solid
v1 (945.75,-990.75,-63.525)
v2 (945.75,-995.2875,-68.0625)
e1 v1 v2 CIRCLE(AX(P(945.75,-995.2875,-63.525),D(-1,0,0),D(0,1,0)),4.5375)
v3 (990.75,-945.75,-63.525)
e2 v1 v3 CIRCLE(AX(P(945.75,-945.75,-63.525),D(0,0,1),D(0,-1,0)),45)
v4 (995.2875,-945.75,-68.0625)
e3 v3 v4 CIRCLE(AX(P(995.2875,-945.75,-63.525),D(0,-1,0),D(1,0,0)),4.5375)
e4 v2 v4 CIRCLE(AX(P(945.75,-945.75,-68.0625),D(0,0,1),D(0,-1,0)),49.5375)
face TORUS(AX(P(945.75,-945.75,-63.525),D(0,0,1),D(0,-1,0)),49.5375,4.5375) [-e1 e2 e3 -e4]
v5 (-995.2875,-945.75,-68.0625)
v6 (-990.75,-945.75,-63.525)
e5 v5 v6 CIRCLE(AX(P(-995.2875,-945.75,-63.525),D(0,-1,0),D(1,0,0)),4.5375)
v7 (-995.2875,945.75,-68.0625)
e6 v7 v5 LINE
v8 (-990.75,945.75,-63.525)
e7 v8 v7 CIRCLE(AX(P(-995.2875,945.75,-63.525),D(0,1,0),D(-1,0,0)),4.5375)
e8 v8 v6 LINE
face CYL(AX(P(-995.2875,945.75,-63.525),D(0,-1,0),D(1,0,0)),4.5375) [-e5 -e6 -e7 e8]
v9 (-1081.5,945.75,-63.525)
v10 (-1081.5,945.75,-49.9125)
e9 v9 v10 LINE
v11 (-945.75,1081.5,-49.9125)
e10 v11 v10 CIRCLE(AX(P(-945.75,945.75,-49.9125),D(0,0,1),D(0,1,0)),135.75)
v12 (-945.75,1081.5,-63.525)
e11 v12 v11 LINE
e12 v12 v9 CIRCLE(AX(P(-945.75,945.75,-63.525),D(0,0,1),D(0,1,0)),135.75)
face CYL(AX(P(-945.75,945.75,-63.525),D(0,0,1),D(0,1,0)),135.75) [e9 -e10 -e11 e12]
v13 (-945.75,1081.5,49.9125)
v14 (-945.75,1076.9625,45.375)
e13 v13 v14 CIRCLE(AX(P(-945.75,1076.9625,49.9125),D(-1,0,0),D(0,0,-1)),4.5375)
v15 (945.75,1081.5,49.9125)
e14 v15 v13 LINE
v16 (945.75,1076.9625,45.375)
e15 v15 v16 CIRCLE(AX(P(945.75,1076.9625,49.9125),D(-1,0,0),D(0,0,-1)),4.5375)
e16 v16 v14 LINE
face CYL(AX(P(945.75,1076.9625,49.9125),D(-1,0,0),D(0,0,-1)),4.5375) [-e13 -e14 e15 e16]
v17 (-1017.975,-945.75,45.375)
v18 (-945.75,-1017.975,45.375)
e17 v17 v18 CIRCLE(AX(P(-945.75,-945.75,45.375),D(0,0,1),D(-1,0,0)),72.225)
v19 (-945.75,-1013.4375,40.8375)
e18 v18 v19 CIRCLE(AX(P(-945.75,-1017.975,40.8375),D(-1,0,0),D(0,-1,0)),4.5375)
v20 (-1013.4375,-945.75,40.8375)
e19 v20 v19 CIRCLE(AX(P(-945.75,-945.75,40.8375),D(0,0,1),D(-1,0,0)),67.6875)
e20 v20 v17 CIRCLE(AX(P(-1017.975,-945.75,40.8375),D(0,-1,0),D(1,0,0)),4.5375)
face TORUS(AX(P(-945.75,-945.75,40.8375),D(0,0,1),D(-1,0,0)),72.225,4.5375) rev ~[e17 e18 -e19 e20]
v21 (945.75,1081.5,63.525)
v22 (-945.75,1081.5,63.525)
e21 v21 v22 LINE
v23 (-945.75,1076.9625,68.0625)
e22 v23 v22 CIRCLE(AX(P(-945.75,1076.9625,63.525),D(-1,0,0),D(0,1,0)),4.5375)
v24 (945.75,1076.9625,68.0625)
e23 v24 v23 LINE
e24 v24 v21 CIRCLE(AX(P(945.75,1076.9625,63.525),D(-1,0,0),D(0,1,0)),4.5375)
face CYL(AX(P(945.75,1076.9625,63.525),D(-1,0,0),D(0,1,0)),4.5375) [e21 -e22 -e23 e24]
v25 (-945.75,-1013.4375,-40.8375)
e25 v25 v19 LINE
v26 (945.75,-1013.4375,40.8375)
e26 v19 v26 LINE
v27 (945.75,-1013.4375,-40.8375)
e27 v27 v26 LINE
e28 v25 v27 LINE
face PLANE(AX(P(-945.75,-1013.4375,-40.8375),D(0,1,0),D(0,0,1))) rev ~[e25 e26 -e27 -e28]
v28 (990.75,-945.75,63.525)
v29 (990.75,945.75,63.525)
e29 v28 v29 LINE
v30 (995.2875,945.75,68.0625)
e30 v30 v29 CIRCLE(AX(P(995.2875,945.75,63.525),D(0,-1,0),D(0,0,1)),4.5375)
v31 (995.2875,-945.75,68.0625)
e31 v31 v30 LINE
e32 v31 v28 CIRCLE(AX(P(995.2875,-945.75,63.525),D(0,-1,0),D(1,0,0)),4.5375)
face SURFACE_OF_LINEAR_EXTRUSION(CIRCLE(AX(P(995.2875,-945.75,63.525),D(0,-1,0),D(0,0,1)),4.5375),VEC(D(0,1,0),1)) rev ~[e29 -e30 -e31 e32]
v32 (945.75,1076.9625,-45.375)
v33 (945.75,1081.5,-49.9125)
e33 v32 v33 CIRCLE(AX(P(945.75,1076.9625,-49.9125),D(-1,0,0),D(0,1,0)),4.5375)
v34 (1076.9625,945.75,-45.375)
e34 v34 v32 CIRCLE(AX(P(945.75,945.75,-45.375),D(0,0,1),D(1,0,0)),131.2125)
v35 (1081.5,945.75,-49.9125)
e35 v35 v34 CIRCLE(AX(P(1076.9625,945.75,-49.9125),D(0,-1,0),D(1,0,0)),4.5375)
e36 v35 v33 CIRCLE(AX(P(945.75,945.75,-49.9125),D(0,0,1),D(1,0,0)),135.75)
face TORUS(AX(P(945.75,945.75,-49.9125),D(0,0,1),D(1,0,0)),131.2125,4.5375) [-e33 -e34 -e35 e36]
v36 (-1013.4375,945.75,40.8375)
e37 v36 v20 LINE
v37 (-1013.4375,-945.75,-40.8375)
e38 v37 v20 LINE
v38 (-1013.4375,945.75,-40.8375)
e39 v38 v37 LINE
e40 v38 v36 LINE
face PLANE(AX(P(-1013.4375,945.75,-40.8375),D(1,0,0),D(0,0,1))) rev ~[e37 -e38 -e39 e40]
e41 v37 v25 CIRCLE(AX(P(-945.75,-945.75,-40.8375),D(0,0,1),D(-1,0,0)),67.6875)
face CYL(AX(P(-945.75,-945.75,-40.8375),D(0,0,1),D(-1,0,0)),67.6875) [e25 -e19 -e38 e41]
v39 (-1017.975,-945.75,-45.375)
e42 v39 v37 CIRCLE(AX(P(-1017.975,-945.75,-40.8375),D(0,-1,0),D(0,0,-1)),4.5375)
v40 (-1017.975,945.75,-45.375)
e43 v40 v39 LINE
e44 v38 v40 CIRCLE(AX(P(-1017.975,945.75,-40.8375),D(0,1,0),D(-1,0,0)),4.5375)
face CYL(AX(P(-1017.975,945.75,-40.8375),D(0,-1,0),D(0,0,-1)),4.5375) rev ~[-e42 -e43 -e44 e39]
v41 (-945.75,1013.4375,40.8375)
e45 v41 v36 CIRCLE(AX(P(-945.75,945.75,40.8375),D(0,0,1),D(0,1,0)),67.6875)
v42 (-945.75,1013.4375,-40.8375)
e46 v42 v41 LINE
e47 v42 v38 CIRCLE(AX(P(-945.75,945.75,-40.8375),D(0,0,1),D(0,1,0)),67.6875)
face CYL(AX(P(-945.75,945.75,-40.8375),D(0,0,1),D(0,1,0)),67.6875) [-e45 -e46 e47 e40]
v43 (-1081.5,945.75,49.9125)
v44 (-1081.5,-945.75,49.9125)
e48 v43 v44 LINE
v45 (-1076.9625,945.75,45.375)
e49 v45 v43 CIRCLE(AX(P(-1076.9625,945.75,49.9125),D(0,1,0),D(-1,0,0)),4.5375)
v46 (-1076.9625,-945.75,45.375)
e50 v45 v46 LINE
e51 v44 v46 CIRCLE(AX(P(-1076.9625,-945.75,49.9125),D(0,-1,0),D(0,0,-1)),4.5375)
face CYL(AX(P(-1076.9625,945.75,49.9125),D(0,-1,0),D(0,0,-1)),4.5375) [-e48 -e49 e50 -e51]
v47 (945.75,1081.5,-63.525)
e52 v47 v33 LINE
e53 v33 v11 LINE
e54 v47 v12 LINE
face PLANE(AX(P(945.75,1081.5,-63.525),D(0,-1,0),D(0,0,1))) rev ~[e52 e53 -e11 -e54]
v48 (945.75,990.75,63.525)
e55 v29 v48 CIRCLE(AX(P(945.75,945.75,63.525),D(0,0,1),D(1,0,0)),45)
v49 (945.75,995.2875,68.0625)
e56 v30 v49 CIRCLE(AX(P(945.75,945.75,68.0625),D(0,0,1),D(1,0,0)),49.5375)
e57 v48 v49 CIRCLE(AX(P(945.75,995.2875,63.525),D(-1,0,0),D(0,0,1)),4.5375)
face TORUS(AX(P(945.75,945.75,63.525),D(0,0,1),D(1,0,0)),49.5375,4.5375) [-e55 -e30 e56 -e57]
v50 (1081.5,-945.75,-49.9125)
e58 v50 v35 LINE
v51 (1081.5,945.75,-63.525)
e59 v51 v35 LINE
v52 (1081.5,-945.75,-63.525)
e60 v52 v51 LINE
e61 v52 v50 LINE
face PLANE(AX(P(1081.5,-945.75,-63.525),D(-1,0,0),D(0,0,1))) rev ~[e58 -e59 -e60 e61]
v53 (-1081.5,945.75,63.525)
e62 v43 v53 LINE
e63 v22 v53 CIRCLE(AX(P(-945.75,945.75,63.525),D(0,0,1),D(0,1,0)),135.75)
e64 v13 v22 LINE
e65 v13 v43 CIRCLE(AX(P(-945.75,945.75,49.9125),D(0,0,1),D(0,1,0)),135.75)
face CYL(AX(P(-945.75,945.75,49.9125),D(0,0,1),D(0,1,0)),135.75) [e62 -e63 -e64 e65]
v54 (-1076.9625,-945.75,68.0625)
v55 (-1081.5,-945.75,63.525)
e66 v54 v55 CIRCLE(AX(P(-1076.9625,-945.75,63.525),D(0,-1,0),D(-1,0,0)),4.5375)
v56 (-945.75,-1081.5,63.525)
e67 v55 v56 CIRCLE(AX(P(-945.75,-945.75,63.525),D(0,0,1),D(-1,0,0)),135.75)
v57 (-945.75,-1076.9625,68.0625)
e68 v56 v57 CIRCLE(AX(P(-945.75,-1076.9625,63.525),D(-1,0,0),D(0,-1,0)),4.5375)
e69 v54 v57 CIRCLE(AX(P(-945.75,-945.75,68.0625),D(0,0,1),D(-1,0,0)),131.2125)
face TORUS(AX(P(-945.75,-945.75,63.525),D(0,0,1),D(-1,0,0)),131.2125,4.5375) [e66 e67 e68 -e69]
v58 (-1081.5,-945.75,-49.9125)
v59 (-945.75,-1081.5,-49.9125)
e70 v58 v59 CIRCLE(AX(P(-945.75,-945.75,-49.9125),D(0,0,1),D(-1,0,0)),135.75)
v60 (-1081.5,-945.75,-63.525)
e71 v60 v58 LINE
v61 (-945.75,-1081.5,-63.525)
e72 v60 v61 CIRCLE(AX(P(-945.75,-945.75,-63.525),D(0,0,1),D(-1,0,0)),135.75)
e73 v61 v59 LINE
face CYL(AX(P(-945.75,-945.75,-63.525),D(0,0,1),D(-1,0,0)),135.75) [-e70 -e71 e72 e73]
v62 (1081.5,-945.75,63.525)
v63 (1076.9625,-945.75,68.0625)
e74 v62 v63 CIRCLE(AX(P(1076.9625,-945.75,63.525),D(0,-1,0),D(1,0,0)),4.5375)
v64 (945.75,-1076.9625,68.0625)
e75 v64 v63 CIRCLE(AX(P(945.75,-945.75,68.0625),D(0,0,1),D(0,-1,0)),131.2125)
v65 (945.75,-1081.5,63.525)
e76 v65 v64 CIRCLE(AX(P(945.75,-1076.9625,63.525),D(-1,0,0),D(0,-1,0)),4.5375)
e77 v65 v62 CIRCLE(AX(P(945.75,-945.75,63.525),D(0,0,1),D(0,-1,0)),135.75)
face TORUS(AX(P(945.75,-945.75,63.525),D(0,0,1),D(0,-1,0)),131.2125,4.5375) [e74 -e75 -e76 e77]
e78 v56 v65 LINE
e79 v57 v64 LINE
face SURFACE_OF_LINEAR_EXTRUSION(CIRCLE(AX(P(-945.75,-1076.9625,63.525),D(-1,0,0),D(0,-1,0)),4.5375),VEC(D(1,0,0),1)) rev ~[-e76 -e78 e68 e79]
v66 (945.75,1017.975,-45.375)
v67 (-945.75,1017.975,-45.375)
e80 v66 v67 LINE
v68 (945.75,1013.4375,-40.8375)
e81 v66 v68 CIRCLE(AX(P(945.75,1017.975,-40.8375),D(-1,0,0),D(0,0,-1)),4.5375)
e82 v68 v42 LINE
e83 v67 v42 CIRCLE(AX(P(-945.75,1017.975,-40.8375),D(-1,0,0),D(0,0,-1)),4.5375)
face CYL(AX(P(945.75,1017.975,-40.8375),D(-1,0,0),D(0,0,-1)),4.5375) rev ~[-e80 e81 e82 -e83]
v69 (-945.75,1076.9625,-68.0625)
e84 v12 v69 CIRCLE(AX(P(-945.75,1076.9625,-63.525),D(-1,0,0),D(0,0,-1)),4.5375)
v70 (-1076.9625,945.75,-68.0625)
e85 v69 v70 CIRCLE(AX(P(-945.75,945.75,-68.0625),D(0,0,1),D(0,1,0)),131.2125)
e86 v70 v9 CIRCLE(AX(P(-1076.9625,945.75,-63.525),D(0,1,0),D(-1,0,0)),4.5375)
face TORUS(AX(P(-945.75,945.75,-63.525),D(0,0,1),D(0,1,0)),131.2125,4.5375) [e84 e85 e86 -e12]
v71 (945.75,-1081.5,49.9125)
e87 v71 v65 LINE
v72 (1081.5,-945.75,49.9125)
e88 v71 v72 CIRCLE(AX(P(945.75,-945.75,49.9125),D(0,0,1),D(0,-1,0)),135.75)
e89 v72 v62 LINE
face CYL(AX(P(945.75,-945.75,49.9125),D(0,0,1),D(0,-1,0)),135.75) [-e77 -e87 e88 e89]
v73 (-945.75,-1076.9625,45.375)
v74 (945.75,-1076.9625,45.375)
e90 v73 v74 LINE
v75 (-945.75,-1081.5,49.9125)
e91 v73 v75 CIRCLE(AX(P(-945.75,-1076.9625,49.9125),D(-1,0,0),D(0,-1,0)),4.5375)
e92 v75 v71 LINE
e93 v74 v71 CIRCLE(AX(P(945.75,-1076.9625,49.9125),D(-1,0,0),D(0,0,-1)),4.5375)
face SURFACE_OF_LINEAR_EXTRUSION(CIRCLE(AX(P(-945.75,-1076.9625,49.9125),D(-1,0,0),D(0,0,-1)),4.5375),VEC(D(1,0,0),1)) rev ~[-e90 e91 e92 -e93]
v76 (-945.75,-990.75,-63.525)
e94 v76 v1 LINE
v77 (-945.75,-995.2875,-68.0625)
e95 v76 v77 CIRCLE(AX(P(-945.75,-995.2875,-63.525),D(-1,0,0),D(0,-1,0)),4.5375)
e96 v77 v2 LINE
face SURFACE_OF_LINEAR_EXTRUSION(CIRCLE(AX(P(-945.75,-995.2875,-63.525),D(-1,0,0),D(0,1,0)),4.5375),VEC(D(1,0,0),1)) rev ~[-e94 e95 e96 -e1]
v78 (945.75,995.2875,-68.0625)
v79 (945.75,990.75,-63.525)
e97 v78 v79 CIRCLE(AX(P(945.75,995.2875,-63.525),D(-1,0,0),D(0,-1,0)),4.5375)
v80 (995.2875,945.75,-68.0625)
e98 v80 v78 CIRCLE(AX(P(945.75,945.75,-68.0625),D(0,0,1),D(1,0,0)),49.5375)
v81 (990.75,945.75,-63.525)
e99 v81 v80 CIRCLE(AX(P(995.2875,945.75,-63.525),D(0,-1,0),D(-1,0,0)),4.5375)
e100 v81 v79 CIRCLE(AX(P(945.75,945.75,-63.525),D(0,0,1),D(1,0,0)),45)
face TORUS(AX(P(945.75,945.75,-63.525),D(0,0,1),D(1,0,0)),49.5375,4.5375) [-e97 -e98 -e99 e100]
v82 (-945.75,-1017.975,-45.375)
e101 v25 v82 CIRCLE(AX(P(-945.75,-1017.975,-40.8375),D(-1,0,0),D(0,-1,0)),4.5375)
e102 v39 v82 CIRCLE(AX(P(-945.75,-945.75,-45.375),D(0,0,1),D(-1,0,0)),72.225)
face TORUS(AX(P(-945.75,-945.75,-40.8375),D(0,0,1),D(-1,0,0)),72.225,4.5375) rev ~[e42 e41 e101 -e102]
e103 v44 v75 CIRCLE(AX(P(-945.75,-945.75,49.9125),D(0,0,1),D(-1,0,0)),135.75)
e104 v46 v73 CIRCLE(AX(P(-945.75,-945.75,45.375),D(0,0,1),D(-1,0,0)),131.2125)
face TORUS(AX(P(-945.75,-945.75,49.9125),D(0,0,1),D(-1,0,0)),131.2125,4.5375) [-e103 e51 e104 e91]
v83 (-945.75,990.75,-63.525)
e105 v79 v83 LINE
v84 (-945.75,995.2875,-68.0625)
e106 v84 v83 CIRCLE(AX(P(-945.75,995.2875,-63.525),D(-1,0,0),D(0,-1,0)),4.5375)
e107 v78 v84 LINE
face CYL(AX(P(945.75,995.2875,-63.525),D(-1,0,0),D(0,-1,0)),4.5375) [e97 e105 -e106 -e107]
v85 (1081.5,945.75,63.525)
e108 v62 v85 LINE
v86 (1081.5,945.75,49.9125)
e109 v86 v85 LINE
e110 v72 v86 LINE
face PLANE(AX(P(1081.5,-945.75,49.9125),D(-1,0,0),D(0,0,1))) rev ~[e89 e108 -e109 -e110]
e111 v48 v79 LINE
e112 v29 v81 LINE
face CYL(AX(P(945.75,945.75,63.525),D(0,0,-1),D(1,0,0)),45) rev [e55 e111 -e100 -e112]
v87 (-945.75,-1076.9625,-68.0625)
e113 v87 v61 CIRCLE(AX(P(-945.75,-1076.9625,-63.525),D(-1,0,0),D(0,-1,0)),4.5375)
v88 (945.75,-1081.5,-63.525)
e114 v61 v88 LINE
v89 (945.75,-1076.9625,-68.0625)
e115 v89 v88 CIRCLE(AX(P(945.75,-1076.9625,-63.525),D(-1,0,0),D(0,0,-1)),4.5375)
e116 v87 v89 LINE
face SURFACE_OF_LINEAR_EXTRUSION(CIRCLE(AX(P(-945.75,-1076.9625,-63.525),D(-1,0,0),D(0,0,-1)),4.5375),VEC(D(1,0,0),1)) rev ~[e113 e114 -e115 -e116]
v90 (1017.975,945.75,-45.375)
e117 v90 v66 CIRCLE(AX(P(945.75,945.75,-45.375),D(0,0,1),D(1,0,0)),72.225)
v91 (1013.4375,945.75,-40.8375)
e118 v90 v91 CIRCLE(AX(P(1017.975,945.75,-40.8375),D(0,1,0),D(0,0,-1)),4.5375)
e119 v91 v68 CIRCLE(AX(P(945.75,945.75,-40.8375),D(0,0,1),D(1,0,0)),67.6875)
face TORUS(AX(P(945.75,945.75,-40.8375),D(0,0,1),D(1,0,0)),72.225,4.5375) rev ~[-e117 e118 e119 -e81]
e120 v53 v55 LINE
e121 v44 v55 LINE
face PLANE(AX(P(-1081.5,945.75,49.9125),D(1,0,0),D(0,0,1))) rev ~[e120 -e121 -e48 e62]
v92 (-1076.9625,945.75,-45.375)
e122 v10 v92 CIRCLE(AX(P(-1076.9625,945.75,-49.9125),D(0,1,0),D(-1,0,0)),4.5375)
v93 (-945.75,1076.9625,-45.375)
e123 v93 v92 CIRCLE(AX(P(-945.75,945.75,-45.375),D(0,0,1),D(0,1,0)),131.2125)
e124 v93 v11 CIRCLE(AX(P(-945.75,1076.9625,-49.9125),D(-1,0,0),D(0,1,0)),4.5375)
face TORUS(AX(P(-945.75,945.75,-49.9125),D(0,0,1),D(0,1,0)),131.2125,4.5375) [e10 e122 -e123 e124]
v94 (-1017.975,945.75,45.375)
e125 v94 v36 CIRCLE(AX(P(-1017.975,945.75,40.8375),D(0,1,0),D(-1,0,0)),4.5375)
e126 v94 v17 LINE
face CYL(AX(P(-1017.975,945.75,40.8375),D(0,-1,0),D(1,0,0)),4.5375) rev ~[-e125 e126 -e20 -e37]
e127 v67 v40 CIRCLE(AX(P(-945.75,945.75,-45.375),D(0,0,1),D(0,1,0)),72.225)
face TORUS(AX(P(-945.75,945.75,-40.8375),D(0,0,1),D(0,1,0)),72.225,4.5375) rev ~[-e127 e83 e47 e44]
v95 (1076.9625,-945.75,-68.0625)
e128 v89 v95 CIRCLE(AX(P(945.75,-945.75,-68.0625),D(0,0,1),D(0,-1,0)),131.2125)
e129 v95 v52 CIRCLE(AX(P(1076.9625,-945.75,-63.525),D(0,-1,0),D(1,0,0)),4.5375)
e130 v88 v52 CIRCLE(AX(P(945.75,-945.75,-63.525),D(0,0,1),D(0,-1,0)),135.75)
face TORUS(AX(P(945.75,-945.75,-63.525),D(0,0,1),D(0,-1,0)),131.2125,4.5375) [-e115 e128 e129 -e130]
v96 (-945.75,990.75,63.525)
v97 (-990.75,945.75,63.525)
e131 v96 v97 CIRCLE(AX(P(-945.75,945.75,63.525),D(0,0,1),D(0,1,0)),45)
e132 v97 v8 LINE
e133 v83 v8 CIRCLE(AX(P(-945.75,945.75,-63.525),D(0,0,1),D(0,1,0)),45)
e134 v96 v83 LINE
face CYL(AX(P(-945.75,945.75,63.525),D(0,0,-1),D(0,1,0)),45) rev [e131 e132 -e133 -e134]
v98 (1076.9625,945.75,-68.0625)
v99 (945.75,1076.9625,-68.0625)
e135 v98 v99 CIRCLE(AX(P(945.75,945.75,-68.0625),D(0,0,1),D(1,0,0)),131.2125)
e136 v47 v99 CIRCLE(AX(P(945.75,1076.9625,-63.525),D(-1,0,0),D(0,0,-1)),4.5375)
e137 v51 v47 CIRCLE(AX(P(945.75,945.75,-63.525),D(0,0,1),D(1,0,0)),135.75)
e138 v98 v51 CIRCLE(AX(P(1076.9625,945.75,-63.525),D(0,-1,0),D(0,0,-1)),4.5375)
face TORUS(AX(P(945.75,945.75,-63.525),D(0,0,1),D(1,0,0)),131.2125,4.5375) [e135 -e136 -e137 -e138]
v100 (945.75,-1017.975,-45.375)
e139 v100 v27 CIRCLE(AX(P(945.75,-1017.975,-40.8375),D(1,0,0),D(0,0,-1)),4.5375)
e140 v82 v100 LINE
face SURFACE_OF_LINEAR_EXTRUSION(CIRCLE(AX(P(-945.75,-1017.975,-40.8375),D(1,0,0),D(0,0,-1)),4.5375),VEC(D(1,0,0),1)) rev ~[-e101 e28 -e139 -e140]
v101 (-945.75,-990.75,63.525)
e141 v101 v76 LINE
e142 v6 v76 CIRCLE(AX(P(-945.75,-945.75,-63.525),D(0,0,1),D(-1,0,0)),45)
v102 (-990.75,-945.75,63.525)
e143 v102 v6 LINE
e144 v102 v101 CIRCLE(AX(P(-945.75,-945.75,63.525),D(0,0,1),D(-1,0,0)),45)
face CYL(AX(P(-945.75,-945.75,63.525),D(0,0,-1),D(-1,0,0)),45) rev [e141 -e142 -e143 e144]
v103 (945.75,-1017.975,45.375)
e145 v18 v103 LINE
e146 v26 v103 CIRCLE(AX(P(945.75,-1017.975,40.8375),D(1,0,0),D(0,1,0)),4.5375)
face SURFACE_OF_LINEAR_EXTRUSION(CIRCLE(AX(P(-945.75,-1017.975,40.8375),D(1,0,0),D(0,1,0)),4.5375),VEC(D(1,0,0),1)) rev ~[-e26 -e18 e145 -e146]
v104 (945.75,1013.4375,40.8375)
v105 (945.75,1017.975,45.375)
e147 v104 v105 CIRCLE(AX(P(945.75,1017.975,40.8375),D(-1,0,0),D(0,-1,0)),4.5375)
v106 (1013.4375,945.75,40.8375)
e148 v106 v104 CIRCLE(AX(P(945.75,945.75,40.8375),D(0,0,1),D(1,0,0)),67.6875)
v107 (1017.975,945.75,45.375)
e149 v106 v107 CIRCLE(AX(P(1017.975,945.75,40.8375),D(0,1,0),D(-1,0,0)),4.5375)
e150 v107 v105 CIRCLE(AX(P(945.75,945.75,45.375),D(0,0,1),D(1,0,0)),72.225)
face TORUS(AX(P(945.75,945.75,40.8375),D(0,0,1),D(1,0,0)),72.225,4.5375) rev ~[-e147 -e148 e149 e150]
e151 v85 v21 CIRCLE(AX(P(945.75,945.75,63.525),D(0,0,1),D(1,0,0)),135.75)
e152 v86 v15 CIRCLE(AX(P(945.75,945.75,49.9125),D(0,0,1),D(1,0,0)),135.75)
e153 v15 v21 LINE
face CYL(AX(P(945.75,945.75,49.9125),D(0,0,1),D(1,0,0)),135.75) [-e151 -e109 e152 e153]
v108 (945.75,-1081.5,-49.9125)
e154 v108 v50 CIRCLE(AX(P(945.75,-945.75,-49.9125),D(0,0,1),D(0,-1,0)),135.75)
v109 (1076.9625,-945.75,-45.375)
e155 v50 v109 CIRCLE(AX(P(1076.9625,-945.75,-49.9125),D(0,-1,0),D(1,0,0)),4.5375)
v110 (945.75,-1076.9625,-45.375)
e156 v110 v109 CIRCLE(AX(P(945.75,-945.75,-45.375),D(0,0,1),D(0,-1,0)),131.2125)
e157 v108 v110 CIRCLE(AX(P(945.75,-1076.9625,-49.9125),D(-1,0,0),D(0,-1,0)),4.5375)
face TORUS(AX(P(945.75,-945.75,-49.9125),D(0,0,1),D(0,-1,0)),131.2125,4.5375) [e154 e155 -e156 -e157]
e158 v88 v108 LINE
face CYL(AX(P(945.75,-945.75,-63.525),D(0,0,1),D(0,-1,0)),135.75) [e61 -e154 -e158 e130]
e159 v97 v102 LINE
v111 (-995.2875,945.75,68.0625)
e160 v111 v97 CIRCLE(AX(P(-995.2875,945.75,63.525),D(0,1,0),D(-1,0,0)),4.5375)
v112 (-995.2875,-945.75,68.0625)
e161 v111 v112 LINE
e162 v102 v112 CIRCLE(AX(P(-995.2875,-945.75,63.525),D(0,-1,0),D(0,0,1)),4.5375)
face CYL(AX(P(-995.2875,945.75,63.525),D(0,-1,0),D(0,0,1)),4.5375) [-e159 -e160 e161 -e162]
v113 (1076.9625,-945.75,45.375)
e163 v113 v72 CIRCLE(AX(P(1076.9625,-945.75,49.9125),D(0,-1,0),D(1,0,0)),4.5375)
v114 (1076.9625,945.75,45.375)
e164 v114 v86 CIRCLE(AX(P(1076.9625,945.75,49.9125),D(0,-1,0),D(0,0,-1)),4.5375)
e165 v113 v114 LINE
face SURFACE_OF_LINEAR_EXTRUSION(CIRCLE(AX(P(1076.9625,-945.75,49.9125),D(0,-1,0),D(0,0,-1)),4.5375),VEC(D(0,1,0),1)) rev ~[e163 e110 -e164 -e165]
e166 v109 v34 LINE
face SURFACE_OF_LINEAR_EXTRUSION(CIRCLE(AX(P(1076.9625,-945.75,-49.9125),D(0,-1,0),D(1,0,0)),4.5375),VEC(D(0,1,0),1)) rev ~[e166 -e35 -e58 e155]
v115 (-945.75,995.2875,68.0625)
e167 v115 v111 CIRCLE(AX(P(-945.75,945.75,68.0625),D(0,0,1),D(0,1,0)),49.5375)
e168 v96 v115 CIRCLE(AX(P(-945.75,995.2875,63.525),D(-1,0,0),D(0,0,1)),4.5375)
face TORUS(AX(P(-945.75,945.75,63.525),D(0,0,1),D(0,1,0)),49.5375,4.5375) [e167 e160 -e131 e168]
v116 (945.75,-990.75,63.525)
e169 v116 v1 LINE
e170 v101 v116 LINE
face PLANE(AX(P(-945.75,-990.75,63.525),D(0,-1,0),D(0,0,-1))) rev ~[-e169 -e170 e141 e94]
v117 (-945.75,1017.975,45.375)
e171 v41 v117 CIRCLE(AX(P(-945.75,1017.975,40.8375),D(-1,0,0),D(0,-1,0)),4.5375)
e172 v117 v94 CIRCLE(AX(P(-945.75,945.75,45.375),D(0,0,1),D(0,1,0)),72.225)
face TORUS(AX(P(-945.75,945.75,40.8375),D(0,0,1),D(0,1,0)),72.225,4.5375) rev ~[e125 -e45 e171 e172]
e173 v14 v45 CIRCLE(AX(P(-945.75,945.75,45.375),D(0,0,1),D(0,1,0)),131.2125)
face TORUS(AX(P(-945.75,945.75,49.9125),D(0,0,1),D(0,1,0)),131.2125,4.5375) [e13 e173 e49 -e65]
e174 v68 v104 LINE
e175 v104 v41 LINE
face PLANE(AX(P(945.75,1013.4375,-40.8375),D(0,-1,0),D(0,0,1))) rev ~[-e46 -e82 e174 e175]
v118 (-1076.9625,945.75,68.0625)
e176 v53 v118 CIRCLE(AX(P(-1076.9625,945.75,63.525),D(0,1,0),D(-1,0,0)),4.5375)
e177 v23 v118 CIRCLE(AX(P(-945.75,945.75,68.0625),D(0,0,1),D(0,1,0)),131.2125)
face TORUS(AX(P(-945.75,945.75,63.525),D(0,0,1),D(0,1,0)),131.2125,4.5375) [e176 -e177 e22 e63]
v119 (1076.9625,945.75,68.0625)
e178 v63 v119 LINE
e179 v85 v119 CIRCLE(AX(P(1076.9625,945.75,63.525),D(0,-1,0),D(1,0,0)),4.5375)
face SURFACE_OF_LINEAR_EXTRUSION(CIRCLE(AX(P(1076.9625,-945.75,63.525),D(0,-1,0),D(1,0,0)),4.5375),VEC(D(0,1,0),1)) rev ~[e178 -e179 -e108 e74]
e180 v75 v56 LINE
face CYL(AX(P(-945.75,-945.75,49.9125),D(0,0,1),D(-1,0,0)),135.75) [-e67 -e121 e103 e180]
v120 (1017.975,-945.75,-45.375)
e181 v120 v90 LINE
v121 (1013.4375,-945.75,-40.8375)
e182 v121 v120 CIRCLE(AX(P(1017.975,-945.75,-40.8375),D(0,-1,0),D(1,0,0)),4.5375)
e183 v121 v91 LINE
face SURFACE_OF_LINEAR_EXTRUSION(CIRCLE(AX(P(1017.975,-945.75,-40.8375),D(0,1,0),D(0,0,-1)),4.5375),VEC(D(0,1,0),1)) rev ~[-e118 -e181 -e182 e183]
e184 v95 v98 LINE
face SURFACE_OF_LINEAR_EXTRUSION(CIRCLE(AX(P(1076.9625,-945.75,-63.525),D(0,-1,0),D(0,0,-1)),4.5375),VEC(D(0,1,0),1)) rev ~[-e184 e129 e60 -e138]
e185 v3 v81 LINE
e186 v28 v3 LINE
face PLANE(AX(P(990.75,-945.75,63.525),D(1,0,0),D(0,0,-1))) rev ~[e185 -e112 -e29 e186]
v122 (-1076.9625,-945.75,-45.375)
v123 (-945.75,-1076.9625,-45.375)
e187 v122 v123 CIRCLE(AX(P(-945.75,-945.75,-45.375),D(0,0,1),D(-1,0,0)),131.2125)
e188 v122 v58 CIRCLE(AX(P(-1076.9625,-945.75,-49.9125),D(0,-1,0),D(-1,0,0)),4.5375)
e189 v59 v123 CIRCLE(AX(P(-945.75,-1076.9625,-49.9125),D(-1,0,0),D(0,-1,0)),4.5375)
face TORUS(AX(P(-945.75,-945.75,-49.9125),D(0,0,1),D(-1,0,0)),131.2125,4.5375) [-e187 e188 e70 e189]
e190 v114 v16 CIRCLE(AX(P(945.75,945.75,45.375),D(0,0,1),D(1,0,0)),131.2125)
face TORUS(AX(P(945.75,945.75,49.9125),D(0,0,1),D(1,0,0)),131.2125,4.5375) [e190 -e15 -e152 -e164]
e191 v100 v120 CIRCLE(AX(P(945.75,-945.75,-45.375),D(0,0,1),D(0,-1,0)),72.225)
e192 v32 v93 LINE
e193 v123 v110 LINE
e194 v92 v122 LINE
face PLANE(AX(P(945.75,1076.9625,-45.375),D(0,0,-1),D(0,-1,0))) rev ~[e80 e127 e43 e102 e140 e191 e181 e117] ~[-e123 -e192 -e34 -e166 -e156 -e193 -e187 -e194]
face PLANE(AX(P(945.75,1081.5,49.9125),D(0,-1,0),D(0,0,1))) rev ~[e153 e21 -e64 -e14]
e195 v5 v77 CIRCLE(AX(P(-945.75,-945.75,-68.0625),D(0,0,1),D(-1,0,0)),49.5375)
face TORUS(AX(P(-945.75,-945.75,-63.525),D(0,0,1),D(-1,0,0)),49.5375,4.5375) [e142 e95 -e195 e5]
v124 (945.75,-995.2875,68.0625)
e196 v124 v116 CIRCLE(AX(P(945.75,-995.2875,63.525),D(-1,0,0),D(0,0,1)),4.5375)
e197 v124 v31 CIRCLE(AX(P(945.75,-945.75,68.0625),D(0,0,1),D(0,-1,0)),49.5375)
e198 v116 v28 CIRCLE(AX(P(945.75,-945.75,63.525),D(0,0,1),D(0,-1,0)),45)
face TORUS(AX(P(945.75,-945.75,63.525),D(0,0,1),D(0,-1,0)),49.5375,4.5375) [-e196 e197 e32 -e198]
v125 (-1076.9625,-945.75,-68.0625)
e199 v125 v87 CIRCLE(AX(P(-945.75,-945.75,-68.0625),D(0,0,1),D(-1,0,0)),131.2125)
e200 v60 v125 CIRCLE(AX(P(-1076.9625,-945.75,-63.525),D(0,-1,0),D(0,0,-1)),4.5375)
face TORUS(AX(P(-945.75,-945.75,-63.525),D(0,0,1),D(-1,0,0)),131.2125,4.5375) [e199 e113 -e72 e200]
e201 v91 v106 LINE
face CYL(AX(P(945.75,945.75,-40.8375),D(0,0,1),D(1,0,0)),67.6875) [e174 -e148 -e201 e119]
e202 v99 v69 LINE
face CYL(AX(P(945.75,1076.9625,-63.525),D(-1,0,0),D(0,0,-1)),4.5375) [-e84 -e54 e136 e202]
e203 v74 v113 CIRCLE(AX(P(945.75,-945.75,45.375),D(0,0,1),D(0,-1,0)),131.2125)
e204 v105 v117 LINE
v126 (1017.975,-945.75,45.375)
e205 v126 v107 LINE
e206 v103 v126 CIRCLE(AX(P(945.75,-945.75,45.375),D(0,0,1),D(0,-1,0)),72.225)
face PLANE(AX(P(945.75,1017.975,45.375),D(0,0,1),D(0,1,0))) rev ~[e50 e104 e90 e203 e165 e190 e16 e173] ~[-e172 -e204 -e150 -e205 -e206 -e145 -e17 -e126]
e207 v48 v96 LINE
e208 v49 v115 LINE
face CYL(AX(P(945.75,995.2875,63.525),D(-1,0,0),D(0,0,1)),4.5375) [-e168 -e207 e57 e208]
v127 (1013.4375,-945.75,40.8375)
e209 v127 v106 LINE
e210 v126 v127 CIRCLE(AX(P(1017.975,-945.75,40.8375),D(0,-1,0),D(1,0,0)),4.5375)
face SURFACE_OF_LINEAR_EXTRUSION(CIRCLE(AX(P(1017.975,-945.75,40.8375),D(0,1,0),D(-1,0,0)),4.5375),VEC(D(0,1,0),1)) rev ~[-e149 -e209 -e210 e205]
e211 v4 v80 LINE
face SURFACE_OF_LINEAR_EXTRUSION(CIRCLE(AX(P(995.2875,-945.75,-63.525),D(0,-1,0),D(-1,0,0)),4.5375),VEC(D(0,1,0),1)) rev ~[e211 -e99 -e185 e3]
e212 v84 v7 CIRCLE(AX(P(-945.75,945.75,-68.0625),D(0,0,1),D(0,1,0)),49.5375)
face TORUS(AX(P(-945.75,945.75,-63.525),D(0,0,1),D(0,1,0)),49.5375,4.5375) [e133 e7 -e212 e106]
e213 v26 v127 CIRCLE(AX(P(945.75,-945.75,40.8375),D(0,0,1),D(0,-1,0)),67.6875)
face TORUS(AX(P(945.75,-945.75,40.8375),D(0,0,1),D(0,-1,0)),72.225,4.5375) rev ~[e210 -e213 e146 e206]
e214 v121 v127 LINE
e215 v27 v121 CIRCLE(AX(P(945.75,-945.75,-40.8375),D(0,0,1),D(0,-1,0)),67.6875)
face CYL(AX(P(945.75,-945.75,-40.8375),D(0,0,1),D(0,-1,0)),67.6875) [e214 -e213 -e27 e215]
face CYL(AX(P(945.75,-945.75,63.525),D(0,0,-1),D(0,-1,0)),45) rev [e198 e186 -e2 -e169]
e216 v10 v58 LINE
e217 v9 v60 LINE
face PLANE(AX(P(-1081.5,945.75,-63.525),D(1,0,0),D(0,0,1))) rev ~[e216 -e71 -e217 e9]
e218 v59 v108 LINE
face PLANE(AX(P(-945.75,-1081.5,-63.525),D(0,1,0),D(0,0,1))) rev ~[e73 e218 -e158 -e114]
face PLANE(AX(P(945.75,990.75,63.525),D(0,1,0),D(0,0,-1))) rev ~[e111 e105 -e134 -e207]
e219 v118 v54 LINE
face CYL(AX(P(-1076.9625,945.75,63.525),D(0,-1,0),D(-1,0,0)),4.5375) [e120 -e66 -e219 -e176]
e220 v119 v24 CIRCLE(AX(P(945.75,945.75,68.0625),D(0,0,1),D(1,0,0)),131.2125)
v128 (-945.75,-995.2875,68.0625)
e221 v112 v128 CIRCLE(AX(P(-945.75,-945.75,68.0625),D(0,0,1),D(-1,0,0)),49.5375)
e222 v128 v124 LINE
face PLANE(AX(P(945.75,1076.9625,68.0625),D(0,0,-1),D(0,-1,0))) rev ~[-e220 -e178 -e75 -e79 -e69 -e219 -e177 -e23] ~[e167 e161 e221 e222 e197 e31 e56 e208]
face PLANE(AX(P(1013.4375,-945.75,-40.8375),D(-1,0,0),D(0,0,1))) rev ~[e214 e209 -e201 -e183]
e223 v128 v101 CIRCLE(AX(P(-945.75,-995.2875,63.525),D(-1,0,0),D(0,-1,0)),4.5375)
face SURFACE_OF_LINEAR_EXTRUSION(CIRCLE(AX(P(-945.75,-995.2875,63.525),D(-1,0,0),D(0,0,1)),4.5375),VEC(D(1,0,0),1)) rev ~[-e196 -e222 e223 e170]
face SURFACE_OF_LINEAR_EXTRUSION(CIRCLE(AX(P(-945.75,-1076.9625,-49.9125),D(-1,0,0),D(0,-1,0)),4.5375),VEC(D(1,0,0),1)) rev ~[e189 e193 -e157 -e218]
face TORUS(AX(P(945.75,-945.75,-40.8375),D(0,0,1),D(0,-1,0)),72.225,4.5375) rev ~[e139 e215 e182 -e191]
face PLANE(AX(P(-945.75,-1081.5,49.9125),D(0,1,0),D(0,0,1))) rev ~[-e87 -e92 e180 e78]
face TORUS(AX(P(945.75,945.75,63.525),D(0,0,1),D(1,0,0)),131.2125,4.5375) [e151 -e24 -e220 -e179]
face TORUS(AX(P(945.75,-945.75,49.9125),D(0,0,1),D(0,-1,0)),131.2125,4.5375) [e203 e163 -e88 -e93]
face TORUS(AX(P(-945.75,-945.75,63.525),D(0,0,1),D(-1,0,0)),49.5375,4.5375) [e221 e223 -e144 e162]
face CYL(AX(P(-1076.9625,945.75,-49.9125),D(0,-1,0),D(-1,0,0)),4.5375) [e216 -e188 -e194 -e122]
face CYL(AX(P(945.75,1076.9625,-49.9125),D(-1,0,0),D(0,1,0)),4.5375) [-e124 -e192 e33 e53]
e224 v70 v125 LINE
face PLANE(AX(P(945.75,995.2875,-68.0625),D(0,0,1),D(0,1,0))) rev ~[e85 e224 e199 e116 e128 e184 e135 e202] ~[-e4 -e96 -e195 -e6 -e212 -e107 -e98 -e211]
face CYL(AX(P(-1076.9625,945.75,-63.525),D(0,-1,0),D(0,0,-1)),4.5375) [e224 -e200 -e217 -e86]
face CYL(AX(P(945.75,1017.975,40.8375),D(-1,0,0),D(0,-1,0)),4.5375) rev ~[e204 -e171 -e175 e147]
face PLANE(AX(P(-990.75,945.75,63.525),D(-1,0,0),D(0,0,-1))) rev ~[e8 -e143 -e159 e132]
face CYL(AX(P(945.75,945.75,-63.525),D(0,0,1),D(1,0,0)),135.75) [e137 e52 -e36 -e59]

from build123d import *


with BuildPart() as part:
    # Sweep1: sweep along a path in Sketch2
    with BuildLine(Plane.XY) as sweep1_path:
        Line((945.75, 990.75), (-945.75, 990.75))
        ThreePointArc((-945.75, 990.75), (-977.569805153, 977.569805153), (-990.75, 945.75))
        Line((-990.75, 945.75), (-990.75, -945.75))
        ThreePointArc((-990.75, -945.75), (-977.569805153, -977.569805153), (-945.75, -990.75))
        Line((-945.75, -990.75), (945.75, -990.75))
        ThreePointArc((945.75, -990.75), (977.569805153, -977.569805153), (990.75, -945.75))
        Line((990.75, -945.75), (990.75, 945.75))
        ThreePointArc((990.75, 945.75), (977.569805153, 977.569805153), (945.75, 990.75))
    # Sketch3 → Sweep1 (sweep)
    with BuildSketch(Plane(origin=(0, 0, 0), x_dir=(0, 0, -1), z_dir=(1, 0, 0))):
        with BuildLine():
            Line((-63.525, 990.75), (63.525, 990.75))
            ThreePointArc((63.525, 990.75), (66.73349702, 992.07900298), (68.0625, 995.2875))
            Line((68.0625, 995.2875), (68.0625, 1076.9625))
            ThreePointArc((68.0625, 1076.9625), (66.73349702, 1080.17099702), (63.525, 1081.5))
            Line((63.525, 1081.5), (49.9125, 1081.5))
            ThreePointArc((49.9125, 1081.5), (46.70400298, 1080.17099702), (45.375, 1076.9625))
            Line((45.375, 1076.9625), (45.375, 1017.975))
            ThreePointArc((45.375, 1017.975), (44.04599702, 1014.76650298), (40.8375, 1013.4375))
            Line((40.8375, 1013.4375), (-40.8375, 1013.4375))
            ThreePointArc((-40.8375, 1013.4375), (-44.04599702, 1014.76650298), (-45.375, 1017.975))
            Line((-45.375, 1017.975), (-45.375, 1076.9625))
            ThreePointArc((-45.375, 1076.9625), (-46.70400298, 1080.17099702), (-49.9125, 1081.5))
            Line((-49.9125, 1081.5), (-63.525, 1081.5))
            ThreePointArc((-63.525, 1081.5), (-66.73349702, 1080.17099702), (-68.0625, 1076.9625))
            Line((-68.0625, 1076.9625), (-68.0625, 995.2875))
            ThreePointArc((-68.0625, 995.2875), (-66.73349702, 992.07900298), (-63.525, 990.75))
        make_face()
    sweep(path=sweep1_path.line)


solid = part.part
